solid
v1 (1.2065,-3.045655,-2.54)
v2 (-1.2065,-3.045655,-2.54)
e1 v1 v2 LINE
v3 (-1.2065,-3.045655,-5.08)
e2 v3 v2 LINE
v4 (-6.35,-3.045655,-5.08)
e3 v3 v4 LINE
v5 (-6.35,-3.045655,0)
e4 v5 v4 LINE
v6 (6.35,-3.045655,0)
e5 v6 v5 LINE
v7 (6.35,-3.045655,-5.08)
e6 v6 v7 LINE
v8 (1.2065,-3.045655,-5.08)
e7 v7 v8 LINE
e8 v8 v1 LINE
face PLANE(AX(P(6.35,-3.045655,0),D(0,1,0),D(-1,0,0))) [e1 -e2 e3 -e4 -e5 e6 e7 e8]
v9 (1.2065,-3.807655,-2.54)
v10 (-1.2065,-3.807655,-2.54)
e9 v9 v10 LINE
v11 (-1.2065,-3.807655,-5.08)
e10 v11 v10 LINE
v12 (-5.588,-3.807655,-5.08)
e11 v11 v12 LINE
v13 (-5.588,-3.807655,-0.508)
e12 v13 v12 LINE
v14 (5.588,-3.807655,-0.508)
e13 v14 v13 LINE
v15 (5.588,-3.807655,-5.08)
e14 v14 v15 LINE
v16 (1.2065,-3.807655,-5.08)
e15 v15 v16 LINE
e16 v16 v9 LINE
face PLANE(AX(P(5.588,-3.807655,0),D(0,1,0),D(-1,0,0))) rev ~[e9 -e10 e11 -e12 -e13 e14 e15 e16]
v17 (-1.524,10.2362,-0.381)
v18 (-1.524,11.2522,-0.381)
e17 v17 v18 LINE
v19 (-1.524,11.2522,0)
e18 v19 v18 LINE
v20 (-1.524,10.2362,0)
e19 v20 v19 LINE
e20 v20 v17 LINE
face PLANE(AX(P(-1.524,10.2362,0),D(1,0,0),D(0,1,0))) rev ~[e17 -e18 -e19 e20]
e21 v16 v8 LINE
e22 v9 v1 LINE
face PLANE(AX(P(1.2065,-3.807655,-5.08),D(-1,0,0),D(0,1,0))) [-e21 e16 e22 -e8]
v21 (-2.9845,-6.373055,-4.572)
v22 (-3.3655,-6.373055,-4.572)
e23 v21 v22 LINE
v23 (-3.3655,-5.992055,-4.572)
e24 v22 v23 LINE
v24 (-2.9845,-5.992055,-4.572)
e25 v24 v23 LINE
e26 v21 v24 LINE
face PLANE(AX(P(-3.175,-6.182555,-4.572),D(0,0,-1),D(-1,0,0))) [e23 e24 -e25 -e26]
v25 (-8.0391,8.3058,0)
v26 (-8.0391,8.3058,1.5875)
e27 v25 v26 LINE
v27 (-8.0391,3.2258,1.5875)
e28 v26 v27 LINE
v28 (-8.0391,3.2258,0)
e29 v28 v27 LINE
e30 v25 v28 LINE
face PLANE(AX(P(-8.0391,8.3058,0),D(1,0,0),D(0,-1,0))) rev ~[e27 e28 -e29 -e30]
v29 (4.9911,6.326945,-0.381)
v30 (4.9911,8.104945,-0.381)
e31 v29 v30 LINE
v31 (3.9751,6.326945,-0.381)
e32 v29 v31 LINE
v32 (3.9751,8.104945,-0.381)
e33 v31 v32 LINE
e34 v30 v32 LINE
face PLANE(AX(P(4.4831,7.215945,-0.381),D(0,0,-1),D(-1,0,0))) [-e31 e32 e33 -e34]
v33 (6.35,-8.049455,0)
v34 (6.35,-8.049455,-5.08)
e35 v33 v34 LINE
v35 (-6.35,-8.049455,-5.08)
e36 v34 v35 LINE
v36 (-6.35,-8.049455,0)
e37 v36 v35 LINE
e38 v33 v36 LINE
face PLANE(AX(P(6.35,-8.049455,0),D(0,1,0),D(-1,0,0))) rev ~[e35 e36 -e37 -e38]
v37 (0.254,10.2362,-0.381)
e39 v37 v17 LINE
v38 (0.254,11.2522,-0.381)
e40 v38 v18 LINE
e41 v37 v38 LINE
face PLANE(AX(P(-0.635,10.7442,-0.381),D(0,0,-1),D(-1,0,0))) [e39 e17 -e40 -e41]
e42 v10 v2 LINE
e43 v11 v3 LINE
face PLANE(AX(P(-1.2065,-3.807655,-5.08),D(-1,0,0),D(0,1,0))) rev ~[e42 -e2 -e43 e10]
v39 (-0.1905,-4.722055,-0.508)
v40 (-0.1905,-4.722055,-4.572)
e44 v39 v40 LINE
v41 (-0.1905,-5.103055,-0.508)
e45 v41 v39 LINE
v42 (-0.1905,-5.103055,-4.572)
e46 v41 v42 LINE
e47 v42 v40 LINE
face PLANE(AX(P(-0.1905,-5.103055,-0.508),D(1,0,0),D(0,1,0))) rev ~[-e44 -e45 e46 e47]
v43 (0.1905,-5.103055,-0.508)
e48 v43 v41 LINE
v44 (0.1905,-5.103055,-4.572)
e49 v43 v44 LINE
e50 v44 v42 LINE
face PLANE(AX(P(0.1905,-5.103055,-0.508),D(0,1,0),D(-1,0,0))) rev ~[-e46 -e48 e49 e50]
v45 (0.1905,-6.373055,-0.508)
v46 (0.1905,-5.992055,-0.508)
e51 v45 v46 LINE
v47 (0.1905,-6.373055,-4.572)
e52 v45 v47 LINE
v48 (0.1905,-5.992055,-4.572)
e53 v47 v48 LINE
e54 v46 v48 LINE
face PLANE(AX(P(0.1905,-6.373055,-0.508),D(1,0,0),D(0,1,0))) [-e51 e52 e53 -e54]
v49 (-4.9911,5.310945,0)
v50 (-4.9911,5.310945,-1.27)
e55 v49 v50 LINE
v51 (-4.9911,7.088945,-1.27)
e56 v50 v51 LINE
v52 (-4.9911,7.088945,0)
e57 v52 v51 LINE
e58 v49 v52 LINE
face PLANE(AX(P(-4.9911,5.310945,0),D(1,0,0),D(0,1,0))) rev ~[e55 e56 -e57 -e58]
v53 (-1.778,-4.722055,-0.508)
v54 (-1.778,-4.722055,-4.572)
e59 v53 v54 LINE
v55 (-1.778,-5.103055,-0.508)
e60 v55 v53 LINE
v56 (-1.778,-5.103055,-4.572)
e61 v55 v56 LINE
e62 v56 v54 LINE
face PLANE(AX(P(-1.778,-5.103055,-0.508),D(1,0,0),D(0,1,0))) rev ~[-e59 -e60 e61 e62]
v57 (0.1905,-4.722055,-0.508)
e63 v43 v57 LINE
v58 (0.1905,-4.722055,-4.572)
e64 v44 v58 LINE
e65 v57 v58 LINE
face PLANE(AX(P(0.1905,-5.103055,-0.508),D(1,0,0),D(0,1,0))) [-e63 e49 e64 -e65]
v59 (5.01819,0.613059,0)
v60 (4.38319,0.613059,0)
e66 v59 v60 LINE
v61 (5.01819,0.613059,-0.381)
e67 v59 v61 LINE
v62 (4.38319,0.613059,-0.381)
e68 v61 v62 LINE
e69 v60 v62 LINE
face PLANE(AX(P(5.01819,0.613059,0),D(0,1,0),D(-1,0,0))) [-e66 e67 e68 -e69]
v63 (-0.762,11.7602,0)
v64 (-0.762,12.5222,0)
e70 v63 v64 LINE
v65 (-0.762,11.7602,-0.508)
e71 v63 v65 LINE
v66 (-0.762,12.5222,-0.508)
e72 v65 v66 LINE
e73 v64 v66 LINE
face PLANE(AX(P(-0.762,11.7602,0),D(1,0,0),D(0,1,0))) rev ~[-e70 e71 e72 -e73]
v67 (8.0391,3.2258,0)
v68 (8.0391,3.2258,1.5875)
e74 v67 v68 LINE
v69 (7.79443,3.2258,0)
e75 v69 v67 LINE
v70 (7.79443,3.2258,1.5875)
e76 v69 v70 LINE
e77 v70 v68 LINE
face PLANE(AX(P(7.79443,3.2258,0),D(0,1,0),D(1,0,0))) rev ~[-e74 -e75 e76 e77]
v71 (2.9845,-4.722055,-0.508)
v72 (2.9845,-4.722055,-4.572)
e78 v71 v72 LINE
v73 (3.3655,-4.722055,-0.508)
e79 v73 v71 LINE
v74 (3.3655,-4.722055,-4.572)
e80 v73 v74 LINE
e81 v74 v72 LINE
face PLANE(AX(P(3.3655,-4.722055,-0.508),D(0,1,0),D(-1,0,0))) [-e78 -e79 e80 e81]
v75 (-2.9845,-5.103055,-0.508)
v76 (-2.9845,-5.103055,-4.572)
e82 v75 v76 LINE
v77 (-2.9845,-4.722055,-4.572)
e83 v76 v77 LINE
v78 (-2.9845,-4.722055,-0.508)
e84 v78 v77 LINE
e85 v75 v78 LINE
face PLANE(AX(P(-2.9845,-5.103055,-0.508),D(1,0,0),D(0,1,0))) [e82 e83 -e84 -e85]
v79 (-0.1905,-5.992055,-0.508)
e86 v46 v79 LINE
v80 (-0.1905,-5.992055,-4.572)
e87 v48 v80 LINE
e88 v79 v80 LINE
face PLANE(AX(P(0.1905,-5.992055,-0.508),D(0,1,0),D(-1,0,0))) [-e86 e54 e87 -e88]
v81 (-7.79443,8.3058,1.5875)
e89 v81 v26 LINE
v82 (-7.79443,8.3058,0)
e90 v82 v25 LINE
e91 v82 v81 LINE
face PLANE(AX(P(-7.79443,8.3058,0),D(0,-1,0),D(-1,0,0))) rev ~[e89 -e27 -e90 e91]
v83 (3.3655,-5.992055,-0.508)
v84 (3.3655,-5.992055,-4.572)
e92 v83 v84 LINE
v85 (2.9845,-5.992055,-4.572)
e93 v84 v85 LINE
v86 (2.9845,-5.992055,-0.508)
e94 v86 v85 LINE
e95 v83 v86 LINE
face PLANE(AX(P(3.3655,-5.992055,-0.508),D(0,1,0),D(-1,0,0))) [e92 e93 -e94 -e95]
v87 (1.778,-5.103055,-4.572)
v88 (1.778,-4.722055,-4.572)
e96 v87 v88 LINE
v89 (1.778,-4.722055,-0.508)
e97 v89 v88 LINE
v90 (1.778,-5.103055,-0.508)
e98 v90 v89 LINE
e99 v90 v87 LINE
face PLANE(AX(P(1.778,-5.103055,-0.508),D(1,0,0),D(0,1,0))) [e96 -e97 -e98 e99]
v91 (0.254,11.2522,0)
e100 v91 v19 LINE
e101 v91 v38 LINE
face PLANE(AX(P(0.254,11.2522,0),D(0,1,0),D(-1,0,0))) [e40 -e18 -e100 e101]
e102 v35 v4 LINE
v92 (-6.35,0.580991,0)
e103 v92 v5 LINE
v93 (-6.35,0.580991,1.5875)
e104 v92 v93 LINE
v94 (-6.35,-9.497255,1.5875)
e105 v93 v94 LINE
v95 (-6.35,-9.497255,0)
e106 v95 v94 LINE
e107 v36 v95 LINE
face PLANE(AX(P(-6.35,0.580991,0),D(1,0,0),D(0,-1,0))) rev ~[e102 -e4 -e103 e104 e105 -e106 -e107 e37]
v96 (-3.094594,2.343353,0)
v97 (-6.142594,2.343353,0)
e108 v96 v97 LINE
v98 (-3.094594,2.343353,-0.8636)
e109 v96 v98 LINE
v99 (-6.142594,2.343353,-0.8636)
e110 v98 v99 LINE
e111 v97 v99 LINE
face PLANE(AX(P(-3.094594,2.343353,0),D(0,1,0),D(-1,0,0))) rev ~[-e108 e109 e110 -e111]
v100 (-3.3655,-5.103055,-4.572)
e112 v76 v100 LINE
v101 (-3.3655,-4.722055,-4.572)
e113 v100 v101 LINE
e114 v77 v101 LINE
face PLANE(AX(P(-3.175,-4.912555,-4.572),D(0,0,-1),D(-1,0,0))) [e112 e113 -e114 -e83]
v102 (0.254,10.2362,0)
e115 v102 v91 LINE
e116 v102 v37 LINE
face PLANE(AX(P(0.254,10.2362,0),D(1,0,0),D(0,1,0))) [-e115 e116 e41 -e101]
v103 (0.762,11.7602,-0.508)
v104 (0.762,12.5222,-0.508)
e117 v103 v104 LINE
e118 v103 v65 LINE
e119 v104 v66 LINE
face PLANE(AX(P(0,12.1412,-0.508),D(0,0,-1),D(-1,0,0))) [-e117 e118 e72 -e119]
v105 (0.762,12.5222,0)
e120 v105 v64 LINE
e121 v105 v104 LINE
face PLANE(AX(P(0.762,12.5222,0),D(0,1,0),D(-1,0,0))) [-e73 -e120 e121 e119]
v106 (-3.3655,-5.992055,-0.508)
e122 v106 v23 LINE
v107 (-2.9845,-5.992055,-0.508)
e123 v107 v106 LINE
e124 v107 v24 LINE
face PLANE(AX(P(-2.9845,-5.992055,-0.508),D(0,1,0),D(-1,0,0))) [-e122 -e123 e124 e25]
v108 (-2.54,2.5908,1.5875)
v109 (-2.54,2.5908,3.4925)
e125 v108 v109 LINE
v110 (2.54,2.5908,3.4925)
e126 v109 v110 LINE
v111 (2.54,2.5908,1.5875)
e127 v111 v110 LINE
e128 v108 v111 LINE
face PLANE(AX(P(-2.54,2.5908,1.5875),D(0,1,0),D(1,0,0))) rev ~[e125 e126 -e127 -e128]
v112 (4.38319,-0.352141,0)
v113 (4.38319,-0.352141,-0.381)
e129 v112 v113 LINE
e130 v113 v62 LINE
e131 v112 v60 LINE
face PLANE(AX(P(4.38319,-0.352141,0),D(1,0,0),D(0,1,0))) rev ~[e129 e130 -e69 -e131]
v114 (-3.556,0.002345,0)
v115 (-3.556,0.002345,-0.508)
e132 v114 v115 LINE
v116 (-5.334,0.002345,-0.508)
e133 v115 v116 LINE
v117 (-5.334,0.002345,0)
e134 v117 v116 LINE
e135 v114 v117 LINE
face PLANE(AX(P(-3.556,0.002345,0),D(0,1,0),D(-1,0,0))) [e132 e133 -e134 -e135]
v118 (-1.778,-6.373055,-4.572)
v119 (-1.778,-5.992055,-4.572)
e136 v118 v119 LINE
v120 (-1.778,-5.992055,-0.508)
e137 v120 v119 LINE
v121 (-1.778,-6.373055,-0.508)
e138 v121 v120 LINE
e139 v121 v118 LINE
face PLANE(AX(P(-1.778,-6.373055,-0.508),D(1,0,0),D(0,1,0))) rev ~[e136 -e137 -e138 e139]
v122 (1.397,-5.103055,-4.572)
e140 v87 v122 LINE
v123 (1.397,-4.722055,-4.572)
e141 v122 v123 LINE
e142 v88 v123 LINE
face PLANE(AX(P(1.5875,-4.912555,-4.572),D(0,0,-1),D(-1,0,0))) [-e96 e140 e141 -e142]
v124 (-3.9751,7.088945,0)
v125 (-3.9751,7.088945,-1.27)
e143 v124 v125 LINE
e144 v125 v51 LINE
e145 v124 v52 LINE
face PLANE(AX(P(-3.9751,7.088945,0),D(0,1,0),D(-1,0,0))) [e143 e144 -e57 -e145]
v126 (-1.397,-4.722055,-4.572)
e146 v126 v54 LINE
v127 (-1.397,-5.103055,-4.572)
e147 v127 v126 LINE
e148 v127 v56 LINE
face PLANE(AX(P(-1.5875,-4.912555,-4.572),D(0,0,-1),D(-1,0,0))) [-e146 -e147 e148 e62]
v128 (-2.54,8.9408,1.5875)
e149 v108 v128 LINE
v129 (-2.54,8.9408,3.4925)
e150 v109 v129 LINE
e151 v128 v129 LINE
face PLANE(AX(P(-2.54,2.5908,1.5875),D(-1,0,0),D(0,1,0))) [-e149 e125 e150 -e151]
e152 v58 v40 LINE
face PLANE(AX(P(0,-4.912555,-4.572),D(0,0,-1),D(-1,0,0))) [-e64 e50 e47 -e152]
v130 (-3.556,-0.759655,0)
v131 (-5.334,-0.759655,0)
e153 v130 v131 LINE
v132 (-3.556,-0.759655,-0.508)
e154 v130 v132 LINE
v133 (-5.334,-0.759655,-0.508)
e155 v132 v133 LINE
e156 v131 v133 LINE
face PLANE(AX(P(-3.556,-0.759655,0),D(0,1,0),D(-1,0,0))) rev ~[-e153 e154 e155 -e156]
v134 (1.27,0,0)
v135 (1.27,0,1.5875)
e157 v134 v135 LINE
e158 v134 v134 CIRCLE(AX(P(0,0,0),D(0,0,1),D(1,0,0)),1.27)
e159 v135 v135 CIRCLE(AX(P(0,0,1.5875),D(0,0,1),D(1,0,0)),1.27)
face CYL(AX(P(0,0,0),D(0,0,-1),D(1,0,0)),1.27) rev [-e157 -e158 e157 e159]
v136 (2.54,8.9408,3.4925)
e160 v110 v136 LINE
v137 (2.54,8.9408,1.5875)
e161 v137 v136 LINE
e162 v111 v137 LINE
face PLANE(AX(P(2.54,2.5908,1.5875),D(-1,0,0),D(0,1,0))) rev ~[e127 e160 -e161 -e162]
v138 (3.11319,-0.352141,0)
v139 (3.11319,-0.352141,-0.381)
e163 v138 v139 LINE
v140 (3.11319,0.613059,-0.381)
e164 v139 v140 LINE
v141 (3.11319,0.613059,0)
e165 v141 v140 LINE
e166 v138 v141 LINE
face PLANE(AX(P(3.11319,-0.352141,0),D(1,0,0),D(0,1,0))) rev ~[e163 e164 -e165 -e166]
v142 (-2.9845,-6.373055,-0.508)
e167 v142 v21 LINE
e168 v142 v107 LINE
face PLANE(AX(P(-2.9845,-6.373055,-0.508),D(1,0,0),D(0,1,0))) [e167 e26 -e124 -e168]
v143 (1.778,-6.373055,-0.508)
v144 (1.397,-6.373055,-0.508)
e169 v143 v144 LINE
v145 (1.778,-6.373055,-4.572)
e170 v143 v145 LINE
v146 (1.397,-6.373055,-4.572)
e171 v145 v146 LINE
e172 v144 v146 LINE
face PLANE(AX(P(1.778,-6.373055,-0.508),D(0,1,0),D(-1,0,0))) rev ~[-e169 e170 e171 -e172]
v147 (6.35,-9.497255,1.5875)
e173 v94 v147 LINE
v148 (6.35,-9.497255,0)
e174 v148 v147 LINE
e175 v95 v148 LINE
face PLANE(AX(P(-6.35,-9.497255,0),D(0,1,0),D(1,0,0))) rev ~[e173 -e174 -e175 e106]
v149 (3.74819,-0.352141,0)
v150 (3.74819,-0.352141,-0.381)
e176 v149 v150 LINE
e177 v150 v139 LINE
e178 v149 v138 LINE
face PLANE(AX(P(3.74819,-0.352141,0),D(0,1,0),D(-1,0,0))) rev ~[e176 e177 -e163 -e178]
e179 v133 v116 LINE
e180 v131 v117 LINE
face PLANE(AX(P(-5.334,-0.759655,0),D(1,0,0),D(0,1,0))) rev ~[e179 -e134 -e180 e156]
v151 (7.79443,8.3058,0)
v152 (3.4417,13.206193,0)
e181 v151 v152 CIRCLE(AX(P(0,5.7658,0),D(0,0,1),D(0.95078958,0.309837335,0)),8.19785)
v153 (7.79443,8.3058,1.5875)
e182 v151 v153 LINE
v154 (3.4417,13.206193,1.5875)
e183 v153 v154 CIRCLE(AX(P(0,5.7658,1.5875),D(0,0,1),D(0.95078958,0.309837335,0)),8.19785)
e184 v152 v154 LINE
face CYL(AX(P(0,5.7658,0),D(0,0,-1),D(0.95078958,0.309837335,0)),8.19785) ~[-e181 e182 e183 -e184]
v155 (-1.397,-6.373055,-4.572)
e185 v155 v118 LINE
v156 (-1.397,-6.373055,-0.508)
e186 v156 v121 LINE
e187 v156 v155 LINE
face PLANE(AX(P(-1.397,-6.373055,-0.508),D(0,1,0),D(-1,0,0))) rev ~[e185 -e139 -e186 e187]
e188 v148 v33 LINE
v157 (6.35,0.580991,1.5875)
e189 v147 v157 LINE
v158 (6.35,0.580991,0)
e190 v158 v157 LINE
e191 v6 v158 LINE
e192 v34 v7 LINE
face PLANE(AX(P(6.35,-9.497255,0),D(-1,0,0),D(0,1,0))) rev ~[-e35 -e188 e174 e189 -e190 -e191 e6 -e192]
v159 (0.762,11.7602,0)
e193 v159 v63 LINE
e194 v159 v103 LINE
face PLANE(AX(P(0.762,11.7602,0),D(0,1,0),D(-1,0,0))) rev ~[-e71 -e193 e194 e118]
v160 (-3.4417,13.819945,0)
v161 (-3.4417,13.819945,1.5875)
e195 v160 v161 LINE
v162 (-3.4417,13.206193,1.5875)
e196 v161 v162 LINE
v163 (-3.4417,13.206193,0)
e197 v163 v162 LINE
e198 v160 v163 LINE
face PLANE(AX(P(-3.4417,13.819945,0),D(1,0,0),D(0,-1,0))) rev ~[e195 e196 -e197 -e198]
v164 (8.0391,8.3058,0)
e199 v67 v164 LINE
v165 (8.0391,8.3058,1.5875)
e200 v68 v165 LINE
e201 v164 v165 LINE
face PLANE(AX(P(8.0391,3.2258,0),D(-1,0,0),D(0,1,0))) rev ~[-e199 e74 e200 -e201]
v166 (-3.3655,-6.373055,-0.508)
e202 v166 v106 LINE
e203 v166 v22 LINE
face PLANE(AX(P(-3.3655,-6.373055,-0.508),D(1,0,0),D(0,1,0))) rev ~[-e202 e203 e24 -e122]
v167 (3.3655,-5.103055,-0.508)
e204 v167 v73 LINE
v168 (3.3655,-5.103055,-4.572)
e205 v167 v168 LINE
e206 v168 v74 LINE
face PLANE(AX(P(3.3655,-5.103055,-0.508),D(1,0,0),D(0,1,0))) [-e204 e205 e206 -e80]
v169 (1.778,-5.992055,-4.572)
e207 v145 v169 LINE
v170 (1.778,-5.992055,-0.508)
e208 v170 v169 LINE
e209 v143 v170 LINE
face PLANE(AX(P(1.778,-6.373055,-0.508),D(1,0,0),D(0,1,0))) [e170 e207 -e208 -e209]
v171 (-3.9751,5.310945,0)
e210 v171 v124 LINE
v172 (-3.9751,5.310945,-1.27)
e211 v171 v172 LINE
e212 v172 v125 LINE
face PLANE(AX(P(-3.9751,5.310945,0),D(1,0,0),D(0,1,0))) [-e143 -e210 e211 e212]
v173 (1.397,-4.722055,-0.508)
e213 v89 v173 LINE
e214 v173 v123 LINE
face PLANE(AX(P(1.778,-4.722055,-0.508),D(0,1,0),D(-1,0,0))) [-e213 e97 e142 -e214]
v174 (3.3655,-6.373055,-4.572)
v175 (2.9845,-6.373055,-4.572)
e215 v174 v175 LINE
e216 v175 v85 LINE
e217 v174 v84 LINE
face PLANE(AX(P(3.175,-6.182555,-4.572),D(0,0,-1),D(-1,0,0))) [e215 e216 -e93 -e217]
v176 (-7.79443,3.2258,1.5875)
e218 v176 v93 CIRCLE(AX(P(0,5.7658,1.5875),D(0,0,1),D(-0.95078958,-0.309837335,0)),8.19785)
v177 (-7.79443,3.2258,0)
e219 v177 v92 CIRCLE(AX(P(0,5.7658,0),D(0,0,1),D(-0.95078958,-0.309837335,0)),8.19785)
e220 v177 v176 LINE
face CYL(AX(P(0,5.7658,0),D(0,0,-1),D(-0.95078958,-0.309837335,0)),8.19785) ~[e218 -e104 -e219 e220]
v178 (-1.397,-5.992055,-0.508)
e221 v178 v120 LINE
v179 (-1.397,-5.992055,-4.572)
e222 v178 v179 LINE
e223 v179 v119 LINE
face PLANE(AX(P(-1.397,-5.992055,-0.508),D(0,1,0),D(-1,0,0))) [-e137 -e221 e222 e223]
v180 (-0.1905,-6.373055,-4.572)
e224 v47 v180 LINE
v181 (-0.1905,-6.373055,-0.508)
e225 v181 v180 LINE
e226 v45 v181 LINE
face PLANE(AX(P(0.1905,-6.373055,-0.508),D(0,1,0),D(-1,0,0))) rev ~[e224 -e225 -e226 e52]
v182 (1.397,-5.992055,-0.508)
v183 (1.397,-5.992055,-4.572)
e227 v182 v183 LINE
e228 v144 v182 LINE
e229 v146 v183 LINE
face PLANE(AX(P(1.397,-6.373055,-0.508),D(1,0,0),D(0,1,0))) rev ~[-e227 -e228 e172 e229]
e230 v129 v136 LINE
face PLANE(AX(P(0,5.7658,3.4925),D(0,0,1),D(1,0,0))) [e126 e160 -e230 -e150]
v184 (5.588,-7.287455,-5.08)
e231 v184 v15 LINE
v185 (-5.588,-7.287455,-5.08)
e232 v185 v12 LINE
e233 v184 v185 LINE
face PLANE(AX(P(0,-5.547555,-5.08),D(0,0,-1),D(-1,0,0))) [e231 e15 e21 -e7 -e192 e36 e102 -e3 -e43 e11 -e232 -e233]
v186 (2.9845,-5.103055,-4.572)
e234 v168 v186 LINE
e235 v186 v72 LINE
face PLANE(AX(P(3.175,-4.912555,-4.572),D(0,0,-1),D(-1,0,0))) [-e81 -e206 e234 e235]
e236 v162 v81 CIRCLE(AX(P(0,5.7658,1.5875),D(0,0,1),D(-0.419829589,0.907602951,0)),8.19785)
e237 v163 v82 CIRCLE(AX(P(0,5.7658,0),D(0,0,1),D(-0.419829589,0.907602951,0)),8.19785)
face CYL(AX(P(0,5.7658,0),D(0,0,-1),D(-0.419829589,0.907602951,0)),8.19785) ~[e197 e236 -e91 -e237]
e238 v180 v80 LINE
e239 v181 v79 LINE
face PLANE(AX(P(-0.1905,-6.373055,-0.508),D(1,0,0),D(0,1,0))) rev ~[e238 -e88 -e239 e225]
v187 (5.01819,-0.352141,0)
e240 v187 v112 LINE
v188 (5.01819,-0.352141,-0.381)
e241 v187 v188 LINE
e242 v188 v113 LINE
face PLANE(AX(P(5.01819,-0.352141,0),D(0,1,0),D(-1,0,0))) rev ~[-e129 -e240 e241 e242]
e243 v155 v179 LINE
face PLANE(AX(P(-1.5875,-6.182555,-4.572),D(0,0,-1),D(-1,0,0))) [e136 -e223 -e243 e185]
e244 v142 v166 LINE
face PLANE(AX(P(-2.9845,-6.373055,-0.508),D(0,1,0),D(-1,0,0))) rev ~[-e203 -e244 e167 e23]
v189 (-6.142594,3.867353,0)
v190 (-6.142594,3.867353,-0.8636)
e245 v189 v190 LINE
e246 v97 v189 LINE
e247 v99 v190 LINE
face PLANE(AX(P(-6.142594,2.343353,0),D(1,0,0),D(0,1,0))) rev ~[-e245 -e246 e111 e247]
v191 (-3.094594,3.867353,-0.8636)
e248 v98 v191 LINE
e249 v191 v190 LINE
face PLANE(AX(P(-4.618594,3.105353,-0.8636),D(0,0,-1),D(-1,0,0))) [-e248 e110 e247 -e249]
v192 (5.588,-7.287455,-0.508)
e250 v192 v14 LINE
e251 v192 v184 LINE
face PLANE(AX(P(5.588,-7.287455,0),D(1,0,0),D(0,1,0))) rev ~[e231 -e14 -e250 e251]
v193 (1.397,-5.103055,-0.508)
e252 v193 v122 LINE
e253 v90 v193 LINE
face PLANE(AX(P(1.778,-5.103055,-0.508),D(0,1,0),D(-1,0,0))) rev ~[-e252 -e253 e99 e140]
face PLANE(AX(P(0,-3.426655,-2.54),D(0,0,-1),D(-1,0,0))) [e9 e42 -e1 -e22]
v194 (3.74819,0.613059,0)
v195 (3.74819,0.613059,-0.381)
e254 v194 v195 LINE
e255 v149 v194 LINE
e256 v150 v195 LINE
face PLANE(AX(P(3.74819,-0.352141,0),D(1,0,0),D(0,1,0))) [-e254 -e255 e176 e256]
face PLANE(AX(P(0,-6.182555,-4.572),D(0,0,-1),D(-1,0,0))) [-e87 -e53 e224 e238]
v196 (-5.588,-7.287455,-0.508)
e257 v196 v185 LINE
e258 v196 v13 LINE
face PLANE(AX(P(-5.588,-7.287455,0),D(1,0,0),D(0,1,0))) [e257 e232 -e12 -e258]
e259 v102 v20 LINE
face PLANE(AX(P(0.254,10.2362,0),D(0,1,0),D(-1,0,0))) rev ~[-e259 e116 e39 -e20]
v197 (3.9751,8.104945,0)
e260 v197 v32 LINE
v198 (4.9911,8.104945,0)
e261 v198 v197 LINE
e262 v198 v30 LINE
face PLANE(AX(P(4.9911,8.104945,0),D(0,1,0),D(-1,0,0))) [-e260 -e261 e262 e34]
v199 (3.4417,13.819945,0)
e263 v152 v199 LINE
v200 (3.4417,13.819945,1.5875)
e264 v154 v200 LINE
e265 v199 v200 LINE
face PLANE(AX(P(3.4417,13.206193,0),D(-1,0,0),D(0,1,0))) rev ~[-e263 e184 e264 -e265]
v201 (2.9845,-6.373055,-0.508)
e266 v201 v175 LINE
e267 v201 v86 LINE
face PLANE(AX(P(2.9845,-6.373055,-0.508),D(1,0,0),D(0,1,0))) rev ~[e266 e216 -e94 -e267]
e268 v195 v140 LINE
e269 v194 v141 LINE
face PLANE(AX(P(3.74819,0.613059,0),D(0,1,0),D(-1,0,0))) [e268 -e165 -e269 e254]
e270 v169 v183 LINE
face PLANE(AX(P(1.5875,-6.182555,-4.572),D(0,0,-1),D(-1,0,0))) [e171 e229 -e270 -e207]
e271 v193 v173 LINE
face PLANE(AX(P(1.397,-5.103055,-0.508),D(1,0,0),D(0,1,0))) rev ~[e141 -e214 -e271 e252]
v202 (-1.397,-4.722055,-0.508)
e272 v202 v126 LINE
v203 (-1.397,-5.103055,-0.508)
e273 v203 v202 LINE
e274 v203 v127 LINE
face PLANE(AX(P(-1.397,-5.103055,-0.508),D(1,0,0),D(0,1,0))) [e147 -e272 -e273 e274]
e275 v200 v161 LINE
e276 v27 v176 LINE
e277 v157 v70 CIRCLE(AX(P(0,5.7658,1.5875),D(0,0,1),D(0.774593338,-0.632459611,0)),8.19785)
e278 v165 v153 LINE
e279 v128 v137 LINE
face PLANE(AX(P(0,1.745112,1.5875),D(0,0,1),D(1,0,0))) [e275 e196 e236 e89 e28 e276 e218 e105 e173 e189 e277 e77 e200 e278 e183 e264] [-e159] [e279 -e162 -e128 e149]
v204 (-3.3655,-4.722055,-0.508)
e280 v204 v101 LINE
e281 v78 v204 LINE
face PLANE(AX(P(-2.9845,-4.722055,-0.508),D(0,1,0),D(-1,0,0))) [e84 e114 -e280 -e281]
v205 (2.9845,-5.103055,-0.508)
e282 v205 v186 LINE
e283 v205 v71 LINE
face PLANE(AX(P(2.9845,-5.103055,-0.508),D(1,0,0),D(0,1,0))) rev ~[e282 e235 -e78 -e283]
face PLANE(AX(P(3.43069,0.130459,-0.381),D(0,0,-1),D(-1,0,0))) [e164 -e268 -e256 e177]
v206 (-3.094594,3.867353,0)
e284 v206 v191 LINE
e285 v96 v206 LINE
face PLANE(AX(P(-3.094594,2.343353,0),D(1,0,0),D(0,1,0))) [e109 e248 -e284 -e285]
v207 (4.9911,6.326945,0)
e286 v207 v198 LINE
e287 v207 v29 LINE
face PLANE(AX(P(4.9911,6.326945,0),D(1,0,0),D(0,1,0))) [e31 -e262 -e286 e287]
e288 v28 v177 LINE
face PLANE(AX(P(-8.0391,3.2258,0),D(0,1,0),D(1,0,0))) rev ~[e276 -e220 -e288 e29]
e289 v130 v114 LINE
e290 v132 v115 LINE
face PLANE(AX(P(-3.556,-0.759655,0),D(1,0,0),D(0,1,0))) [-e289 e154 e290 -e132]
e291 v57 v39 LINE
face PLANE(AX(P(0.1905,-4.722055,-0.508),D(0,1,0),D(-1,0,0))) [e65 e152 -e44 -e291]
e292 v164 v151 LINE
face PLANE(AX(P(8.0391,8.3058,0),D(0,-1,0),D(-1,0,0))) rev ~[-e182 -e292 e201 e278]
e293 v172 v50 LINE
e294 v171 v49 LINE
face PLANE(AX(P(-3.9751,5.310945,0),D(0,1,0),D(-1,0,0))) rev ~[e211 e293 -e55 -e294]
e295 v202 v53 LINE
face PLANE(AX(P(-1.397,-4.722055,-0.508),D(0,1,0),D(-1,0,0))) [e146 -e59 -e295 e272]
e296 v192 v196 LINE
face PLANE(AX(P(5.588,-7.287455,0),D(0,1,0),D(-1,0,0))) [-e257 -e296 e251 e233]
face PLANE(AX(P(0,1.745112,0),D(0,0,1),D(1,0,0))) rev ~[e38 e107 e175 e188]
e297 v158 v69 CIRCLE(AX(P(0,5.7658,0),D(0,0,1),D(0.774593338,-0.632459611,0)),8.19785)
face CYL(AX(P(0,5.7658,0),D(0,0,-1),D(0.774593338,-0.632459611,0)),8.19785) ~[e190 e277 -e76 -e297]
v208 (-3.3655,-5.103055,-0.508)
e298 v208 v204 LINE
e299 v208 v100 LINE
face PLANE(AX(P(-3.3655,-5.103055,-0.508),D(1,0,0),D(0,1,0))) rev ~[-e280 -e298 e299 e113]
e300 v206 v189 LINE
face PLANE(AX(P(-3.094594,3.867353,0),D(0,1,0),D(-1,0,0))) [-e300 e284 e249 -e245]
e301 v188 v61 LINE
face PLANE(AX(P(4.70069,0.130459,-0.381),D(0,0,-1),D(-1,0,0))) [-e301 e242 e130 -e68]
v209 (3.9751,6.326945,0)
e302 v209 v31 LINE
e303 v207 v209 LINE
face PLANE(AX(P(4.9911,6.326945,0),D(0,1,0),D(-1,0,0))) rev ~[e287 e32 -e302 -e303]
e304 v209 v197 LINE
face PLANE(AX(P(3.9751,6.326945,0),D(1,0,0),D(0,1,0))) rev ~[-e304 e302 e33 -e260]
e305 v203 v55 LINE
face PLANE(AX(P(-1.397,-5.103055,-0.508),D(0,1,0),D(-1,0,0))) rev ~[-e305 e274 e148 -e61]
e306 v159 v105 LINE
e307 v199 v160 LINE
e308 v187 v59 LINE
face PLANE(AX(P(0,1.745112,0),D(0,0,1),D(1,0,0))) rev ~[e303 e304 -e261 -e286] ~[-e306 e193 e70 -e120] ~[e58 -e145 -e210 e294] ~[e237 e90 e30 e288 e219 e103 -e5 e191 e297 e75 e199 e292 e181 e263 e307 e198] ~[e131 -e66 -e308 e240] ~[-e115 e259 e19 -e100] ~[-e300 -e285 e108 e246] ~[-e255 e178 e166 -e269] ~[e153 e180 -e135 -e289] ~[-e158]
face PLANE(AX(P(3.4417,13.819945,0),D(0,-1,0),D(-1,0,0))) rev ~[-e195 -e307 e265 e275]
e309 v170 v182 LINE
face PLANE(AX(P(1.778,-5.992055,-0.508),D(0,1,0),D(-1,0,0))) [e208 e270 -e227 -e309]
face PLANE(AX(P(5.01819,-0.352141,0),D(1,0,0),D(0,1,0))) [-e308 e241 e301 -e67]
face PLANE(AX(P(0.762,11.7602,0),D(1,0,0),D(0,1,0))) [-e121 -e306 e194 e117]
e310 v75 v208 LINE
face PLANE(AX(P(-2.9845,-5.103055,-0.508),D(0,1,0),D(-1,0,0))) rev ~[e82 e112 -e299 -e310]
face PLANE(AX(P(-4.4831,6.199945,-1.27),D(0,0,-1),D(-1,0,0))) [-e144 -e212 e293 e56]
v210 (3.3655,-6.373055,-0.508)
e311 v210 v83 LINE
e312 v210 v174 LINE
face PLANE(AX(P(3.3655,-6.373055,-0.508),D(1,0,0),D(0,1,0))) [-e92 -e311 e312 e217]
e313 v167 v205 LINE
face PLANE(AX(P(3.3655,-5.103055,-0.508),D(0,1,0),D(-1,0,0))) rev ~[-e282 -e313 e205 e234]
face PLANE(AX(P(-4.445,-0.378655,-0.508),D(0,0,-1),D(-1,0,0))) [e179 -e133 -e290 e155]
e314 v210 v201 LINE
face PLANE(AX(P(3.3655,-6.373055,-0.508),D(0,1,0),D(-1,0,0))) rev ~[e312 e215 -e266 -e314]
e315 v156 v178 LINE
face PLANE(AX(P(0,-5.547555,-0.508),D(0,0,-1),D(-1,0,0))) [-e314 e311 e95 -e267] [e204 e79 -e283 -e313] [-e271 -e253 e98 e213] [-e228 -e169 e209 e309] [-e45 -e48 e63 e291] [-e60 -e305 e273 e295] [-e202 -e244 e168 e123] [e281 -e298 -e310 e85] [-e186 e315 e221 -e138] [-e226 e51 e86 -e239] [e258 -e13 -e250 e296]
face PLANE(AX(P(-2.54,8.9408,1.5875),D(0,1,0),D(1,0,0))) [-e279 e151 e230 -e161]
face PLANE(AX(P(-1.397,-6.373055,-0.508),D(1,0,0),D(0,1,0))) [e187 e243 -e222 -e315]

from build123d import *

# Parameters (mm, degrees)
SKETCH1_R              = 1.27
BOSS_EXTRUDE1_DEPTH    = 1.5875
SKETCH2_W              = 12.7
SKETCH2_H              = 5.0038
SKETCH2_W_2            = 11.176
SKETCH2_H_2            = 3.4798
BOSS_EXTRUDE2_DEPTH    = 5.08
SKETCH4_W              = 5.08
SKETCH4_H              = 6.35
BOSS_EXTRUDE3_DEPTH    = 1.905
SKETCH5_W              = 11.176
SKETCH5_H              = 3.4798
BOSS_EXTRUDE4_DEPTH    = 0.508
SKETCH6_W              = 0.381
SKETCH6_H              = 0.381
BOSS_EXTRUDE5_DEPTH    = 4.064
LPATTERN1_COUNT        = 5
LPATTERN1_PITCH        = 1.5875
SKETCH7_W              = 3.048
SKETCH7_H              = 1.524
BOSS_EXTRUDE6_DEPTH    = 0.8636
SKETCH7_3_W            = 1.524
SKETCH7_3_H            = 0.762
BOSS_EXTRUDE7_DEPTH    = 0.508
SKETCH7_3_W_2          = 1.778
BOSS_EXTRUDE7_2_DEPTH  = 0.508
SKETCH7_4_W            = 0.635
SKETCH7_4_H            = 0.9652
BOSS_EXTRUDE8_DEPTH    = 0.381
BOSS_EXTRUDE8_2_DEPTH  = 0.381
SKETCH7_5_W            = 1.016
SKETCH7_5_H            = 1.778
BOSS_EXTRUDE9_DEPTH    = 1.27
SKETCH7_6_W            = 1.778
SKETCH7_6_H            = 1.016
BOSS_EXTRUDE10_DEPTH   = 0.381
SKETCH7_6_W_2          = 1.016
SKETCH7_6_H_2          = 1.778
BOSS_EXTRUDE10_2_DEPTH = 0.381
SKETCH10_W             = 2.413
SKETCH10_H             = 0.762
CUT_EXTRUDE2_DEPTH     = 2.54


with BuildPart() as part:
    # Sketch1 → Boss-Extrude1 (new body)
    with BuildSketch(Plane.XY):
        with BuildLine():
            Line((-6.35, -9.497254818), (6.35, -9.497254818))
            Line((6.35, -9.497254818), (6.35, 0.580990975))
            ThreePointArc((6.35, 0.580990975), (7.194788478, 1.836453568), (7.794430359, 3.2258))
            Line((7.794430359, 3.2258), (8.0391, 3.2258))
            Line((8.0391, 3.2258), (8.0391, 8.3058))
            Line((8.0391, 8.3058), (7.794430359, 8.3058))
            ThreePointArc((7.794430359, 8.3058), (6.129120563, 11.209936823), (3.4417, 13.206192848))
            Line((3.4417, 13.206192848), (3.4417, 13.819945182))
            Line((3.4417, 13.819945182), (-3.4417, 13.819945182))
            Line((-3.4417, 13.819945182), (-3.4417, 13.206192848))
            ThreePointArc((-3.4417, 13.206192848), (-6.129120563, 11.209936823), (-7.794430359, 8.3058))
            Line((-7.794430359, 8.3058), (-8.0391, 8.3058))
            Line((-8.0391, 8.3058), (-8.0391, 3.2258))
            Line((-8.0391, 3.2258), (-7.794430359, 3.2258))
            ThreePointArc((-7.794430359, 3.2258), (-7.194788478, 1.836453568), (-6.35, 0.580990975))
            Line((-6.35, 0.580990975), (-6.35, -9.497254818))
        make_face()
        Circle(SKETCH1_R, mode=Mode.SUBTRACT)
    extrude(amount=BOSS_EXTRUDE1_DEPTH)


with BuildPart() as body_2:
    # Sketch2 → Boss-Extrude2 (new body)
    with BuildSketch(Plane(origin=(0, 0, 0), x_dir=(-1, 0, 0), z_dir=(0, 0, -1))):
        with Locations((0, -5.547554818)):
            Rectangle(SKETCH2_W, SKETCH2_H)
        with Locations((0, -5.547554818)):
            Rectangle(SKETCH2_W_2, SKETCH2_H_2, mode=Mode.SUBTRACT)
    extrude(amount=BOSS_EXTRUDE2_DEPTH)

    # Sketch10 → Cut-Extrude2 (cut)
    with BuildSketch(Plane(origin=(0, 0, -5.08), x_dir=(-1, 0, 0), z_dir=(0, 0, -1))):
        with Locations((0, -3.426654818)):
            Rectangle(SKETCH10_W, SKETCH10_H)
    extrude(amount=-CUT_EXTRUDE2_DEPTH, mode=Mode.SUBTRACT)


with BuildPart() as body_3:
    # Sketch4 → Boss-Extrude3 (new body)
    with BuildSketch(Plane.XY.offset(1.5875)):
        with Locations((0, 5.7658)):
            Rectangle(SKETCH4_W, SKETCH4_H)
    extrude(amount=BOSS_EXTRUDE3_DEPTH)


with BuildPart() as body_4:
    # Sketch5 → Boss-Extrude4 (new body)
    with BuildSketch(Plane(origin=(0, 0, 0), x_dir=(-1, 0, 0), z_dir=(0, 0, -1))):
        with Locations((0, -5.547554818)):
            Rectangle(SKETCH5_W, SKETCH5_H)
    extrude(amount=BOSS_EXTRUDE4_DEPTH)

    # Sketch6 → Boss-Extrude5 (add)
    with BuildSketch(Plane(origin=(0, 0, -0.508), x_dir=(-1, 0, 0), z_dir=(0, 0, -1))):
        with Locations((3.175, -4.912554818)):
            Rectangle(SKETCH6_W, SKETCH6_H)
        with Locations((3.175, -6.182554818)):
            Rectangle(SKETCH6_W, SKETCH6_H)
    boss_extrude5 = extrude(amount=BOSS_EXTRUDE5_DEPTH)

    # LPattern1: Boss-Extrude5 ×5
    with Locations(*[(i * LPATTERN1_PITCH, 0, 0) for i in range(1, LPATTERN1_COUNT)]):
        add(boss_extrude5)


with BuildPart() as body_5:
    # Sketch7 → Boss-Extrude6 (new body)
    with BuildSketch(Plane(origin=(0, 0, 0), x_dir=(-1, 0, 0), z_dir=(0, 0, -1))):
        with Locations((4.618593555, 3.105353297)):
            Rectangle(SKETCH7_W, SKETCH7_H)
    extrude(amount=BOSS_EXTRUDE6_DEPTH)


with BuildPart() as body_6:
    # Sketch7<3> → Boss-Extrude7 (new body)
    with BuildSketch(Plane(origin=(0, 0, 0), x_dir=(-1, 0, 0), z_dir=(0, 0, -1))):
        with Locations((0, 12.1412)):
            Rectangle(SKETCH7_3_W, SKETCH7_3_H)
    extrude(amount=BOSS_EXTRUDE7_DEPTH)


with BuildPart() as body_7:
    # Sketch7<3> → Boss-Extrude7 2 (new body)
    with BuildSketch(Plane(origin=(0, 0, 0), x_dir=(-1, 0, 0), z_dir=(0, 0, -1))):
        with Locations((4.445, -0.378654818)):
            Rectangle(SKETCH7_3_W_2, SKETCH7_3_H)
    extrude(amount=BOSS_EXTRUDE7_2_DEPTH)


with BuildPart() as body_8:
    # Sketch7<4> → Boss-Extrude8 (new body)
    with BuildSketch(Plane(origin=(0, 0, 0), x_dir=(-1, 0, 0), z_dir=(0, 0, -1))):
        with Locations((-4.700690056, 0.130459395)):
            Rectangle(SKETCH7_4_W, SKETCH7_4_H)
    extrude(amount=BOSS_EXTRUDE8_DEPTH)


with BuildPart() as body_9:
    # Sketch7<4> → Boss-Extrude8 2 (new body)
    with BuildSketch(Plane(origin=(0, 0, 0), x_dir=(-1, 0, 0), z_dir=(0, 0, -1))):
        with Locations((-3.430690056, 0.130459395)):
            Rectangle(SKETCH7_4_W, SKETCH7_4_H)
    extrude(amount=BOSS_EXTRUDE8_2_DEPTH)


with BuildPart() as body_10:
    # Sketch7<5> → Boss-Extrude9 (new body)
    with BuildSketch(Plane(origin=(0, 0, 0), x_dir=(-1, 0, 0), z_dir=(0, 0, -1))):
        with Locations((4.4831, 6.199945182)):
            Rectangle(SKETCH7_5_W, SKETCH7_5_H)
    extrude(amount=BOSS_EXTRUDE9_DEPTH)


with BuildPart() as body_11:
    # Sketch7<6> → Boss-Extrude10 (new body)
    with BuildSketch(Plane(origin=(0, 0, 0), x_dir=(-1, 0, 0), z_dir=(0, 0, -1))):
        with Locations((0.635, 10.7442)):
            Rectangle(SKETCH7_6_W, SKETCH7_6_H)
    extrude(amount=BOSS_EXTRUDE10_DEPTH)


with BuildPart() as body_12:
    # Sketch7<6> → Boss-Extrude10 2 (new body)
    with BuildSketch(Plane(origin=(0, 0, 0), x_dir=(-1, 0, 0), z_dir=(0, 0, -1))):
        with Locations((-4.4831, 7.215945182)):
            Rectangle(SKETCH7_6_W_2, SKETCH7_6_H_2)
    extrude(amount=BOSS_EXTRUDE10_2_DEPTH)


with BuildPart() as part_1:
    add(part.part)

    # Combine2: union body 2, body 11, body 12, body 10, body 9, body 6, body 7, body 5, body 4, body 3, body 8
    add(body_2.part)
    add(body_11.part)
    add(body_12.part)
    add(body_10.part)
    add(body_9.part)
    add(body_6.part)
    add(body_7.part)
    add(body_5.part)
    add(body_4.part)
    add(body_3.part)
    add(body_8.part)


solid = part_1.part
